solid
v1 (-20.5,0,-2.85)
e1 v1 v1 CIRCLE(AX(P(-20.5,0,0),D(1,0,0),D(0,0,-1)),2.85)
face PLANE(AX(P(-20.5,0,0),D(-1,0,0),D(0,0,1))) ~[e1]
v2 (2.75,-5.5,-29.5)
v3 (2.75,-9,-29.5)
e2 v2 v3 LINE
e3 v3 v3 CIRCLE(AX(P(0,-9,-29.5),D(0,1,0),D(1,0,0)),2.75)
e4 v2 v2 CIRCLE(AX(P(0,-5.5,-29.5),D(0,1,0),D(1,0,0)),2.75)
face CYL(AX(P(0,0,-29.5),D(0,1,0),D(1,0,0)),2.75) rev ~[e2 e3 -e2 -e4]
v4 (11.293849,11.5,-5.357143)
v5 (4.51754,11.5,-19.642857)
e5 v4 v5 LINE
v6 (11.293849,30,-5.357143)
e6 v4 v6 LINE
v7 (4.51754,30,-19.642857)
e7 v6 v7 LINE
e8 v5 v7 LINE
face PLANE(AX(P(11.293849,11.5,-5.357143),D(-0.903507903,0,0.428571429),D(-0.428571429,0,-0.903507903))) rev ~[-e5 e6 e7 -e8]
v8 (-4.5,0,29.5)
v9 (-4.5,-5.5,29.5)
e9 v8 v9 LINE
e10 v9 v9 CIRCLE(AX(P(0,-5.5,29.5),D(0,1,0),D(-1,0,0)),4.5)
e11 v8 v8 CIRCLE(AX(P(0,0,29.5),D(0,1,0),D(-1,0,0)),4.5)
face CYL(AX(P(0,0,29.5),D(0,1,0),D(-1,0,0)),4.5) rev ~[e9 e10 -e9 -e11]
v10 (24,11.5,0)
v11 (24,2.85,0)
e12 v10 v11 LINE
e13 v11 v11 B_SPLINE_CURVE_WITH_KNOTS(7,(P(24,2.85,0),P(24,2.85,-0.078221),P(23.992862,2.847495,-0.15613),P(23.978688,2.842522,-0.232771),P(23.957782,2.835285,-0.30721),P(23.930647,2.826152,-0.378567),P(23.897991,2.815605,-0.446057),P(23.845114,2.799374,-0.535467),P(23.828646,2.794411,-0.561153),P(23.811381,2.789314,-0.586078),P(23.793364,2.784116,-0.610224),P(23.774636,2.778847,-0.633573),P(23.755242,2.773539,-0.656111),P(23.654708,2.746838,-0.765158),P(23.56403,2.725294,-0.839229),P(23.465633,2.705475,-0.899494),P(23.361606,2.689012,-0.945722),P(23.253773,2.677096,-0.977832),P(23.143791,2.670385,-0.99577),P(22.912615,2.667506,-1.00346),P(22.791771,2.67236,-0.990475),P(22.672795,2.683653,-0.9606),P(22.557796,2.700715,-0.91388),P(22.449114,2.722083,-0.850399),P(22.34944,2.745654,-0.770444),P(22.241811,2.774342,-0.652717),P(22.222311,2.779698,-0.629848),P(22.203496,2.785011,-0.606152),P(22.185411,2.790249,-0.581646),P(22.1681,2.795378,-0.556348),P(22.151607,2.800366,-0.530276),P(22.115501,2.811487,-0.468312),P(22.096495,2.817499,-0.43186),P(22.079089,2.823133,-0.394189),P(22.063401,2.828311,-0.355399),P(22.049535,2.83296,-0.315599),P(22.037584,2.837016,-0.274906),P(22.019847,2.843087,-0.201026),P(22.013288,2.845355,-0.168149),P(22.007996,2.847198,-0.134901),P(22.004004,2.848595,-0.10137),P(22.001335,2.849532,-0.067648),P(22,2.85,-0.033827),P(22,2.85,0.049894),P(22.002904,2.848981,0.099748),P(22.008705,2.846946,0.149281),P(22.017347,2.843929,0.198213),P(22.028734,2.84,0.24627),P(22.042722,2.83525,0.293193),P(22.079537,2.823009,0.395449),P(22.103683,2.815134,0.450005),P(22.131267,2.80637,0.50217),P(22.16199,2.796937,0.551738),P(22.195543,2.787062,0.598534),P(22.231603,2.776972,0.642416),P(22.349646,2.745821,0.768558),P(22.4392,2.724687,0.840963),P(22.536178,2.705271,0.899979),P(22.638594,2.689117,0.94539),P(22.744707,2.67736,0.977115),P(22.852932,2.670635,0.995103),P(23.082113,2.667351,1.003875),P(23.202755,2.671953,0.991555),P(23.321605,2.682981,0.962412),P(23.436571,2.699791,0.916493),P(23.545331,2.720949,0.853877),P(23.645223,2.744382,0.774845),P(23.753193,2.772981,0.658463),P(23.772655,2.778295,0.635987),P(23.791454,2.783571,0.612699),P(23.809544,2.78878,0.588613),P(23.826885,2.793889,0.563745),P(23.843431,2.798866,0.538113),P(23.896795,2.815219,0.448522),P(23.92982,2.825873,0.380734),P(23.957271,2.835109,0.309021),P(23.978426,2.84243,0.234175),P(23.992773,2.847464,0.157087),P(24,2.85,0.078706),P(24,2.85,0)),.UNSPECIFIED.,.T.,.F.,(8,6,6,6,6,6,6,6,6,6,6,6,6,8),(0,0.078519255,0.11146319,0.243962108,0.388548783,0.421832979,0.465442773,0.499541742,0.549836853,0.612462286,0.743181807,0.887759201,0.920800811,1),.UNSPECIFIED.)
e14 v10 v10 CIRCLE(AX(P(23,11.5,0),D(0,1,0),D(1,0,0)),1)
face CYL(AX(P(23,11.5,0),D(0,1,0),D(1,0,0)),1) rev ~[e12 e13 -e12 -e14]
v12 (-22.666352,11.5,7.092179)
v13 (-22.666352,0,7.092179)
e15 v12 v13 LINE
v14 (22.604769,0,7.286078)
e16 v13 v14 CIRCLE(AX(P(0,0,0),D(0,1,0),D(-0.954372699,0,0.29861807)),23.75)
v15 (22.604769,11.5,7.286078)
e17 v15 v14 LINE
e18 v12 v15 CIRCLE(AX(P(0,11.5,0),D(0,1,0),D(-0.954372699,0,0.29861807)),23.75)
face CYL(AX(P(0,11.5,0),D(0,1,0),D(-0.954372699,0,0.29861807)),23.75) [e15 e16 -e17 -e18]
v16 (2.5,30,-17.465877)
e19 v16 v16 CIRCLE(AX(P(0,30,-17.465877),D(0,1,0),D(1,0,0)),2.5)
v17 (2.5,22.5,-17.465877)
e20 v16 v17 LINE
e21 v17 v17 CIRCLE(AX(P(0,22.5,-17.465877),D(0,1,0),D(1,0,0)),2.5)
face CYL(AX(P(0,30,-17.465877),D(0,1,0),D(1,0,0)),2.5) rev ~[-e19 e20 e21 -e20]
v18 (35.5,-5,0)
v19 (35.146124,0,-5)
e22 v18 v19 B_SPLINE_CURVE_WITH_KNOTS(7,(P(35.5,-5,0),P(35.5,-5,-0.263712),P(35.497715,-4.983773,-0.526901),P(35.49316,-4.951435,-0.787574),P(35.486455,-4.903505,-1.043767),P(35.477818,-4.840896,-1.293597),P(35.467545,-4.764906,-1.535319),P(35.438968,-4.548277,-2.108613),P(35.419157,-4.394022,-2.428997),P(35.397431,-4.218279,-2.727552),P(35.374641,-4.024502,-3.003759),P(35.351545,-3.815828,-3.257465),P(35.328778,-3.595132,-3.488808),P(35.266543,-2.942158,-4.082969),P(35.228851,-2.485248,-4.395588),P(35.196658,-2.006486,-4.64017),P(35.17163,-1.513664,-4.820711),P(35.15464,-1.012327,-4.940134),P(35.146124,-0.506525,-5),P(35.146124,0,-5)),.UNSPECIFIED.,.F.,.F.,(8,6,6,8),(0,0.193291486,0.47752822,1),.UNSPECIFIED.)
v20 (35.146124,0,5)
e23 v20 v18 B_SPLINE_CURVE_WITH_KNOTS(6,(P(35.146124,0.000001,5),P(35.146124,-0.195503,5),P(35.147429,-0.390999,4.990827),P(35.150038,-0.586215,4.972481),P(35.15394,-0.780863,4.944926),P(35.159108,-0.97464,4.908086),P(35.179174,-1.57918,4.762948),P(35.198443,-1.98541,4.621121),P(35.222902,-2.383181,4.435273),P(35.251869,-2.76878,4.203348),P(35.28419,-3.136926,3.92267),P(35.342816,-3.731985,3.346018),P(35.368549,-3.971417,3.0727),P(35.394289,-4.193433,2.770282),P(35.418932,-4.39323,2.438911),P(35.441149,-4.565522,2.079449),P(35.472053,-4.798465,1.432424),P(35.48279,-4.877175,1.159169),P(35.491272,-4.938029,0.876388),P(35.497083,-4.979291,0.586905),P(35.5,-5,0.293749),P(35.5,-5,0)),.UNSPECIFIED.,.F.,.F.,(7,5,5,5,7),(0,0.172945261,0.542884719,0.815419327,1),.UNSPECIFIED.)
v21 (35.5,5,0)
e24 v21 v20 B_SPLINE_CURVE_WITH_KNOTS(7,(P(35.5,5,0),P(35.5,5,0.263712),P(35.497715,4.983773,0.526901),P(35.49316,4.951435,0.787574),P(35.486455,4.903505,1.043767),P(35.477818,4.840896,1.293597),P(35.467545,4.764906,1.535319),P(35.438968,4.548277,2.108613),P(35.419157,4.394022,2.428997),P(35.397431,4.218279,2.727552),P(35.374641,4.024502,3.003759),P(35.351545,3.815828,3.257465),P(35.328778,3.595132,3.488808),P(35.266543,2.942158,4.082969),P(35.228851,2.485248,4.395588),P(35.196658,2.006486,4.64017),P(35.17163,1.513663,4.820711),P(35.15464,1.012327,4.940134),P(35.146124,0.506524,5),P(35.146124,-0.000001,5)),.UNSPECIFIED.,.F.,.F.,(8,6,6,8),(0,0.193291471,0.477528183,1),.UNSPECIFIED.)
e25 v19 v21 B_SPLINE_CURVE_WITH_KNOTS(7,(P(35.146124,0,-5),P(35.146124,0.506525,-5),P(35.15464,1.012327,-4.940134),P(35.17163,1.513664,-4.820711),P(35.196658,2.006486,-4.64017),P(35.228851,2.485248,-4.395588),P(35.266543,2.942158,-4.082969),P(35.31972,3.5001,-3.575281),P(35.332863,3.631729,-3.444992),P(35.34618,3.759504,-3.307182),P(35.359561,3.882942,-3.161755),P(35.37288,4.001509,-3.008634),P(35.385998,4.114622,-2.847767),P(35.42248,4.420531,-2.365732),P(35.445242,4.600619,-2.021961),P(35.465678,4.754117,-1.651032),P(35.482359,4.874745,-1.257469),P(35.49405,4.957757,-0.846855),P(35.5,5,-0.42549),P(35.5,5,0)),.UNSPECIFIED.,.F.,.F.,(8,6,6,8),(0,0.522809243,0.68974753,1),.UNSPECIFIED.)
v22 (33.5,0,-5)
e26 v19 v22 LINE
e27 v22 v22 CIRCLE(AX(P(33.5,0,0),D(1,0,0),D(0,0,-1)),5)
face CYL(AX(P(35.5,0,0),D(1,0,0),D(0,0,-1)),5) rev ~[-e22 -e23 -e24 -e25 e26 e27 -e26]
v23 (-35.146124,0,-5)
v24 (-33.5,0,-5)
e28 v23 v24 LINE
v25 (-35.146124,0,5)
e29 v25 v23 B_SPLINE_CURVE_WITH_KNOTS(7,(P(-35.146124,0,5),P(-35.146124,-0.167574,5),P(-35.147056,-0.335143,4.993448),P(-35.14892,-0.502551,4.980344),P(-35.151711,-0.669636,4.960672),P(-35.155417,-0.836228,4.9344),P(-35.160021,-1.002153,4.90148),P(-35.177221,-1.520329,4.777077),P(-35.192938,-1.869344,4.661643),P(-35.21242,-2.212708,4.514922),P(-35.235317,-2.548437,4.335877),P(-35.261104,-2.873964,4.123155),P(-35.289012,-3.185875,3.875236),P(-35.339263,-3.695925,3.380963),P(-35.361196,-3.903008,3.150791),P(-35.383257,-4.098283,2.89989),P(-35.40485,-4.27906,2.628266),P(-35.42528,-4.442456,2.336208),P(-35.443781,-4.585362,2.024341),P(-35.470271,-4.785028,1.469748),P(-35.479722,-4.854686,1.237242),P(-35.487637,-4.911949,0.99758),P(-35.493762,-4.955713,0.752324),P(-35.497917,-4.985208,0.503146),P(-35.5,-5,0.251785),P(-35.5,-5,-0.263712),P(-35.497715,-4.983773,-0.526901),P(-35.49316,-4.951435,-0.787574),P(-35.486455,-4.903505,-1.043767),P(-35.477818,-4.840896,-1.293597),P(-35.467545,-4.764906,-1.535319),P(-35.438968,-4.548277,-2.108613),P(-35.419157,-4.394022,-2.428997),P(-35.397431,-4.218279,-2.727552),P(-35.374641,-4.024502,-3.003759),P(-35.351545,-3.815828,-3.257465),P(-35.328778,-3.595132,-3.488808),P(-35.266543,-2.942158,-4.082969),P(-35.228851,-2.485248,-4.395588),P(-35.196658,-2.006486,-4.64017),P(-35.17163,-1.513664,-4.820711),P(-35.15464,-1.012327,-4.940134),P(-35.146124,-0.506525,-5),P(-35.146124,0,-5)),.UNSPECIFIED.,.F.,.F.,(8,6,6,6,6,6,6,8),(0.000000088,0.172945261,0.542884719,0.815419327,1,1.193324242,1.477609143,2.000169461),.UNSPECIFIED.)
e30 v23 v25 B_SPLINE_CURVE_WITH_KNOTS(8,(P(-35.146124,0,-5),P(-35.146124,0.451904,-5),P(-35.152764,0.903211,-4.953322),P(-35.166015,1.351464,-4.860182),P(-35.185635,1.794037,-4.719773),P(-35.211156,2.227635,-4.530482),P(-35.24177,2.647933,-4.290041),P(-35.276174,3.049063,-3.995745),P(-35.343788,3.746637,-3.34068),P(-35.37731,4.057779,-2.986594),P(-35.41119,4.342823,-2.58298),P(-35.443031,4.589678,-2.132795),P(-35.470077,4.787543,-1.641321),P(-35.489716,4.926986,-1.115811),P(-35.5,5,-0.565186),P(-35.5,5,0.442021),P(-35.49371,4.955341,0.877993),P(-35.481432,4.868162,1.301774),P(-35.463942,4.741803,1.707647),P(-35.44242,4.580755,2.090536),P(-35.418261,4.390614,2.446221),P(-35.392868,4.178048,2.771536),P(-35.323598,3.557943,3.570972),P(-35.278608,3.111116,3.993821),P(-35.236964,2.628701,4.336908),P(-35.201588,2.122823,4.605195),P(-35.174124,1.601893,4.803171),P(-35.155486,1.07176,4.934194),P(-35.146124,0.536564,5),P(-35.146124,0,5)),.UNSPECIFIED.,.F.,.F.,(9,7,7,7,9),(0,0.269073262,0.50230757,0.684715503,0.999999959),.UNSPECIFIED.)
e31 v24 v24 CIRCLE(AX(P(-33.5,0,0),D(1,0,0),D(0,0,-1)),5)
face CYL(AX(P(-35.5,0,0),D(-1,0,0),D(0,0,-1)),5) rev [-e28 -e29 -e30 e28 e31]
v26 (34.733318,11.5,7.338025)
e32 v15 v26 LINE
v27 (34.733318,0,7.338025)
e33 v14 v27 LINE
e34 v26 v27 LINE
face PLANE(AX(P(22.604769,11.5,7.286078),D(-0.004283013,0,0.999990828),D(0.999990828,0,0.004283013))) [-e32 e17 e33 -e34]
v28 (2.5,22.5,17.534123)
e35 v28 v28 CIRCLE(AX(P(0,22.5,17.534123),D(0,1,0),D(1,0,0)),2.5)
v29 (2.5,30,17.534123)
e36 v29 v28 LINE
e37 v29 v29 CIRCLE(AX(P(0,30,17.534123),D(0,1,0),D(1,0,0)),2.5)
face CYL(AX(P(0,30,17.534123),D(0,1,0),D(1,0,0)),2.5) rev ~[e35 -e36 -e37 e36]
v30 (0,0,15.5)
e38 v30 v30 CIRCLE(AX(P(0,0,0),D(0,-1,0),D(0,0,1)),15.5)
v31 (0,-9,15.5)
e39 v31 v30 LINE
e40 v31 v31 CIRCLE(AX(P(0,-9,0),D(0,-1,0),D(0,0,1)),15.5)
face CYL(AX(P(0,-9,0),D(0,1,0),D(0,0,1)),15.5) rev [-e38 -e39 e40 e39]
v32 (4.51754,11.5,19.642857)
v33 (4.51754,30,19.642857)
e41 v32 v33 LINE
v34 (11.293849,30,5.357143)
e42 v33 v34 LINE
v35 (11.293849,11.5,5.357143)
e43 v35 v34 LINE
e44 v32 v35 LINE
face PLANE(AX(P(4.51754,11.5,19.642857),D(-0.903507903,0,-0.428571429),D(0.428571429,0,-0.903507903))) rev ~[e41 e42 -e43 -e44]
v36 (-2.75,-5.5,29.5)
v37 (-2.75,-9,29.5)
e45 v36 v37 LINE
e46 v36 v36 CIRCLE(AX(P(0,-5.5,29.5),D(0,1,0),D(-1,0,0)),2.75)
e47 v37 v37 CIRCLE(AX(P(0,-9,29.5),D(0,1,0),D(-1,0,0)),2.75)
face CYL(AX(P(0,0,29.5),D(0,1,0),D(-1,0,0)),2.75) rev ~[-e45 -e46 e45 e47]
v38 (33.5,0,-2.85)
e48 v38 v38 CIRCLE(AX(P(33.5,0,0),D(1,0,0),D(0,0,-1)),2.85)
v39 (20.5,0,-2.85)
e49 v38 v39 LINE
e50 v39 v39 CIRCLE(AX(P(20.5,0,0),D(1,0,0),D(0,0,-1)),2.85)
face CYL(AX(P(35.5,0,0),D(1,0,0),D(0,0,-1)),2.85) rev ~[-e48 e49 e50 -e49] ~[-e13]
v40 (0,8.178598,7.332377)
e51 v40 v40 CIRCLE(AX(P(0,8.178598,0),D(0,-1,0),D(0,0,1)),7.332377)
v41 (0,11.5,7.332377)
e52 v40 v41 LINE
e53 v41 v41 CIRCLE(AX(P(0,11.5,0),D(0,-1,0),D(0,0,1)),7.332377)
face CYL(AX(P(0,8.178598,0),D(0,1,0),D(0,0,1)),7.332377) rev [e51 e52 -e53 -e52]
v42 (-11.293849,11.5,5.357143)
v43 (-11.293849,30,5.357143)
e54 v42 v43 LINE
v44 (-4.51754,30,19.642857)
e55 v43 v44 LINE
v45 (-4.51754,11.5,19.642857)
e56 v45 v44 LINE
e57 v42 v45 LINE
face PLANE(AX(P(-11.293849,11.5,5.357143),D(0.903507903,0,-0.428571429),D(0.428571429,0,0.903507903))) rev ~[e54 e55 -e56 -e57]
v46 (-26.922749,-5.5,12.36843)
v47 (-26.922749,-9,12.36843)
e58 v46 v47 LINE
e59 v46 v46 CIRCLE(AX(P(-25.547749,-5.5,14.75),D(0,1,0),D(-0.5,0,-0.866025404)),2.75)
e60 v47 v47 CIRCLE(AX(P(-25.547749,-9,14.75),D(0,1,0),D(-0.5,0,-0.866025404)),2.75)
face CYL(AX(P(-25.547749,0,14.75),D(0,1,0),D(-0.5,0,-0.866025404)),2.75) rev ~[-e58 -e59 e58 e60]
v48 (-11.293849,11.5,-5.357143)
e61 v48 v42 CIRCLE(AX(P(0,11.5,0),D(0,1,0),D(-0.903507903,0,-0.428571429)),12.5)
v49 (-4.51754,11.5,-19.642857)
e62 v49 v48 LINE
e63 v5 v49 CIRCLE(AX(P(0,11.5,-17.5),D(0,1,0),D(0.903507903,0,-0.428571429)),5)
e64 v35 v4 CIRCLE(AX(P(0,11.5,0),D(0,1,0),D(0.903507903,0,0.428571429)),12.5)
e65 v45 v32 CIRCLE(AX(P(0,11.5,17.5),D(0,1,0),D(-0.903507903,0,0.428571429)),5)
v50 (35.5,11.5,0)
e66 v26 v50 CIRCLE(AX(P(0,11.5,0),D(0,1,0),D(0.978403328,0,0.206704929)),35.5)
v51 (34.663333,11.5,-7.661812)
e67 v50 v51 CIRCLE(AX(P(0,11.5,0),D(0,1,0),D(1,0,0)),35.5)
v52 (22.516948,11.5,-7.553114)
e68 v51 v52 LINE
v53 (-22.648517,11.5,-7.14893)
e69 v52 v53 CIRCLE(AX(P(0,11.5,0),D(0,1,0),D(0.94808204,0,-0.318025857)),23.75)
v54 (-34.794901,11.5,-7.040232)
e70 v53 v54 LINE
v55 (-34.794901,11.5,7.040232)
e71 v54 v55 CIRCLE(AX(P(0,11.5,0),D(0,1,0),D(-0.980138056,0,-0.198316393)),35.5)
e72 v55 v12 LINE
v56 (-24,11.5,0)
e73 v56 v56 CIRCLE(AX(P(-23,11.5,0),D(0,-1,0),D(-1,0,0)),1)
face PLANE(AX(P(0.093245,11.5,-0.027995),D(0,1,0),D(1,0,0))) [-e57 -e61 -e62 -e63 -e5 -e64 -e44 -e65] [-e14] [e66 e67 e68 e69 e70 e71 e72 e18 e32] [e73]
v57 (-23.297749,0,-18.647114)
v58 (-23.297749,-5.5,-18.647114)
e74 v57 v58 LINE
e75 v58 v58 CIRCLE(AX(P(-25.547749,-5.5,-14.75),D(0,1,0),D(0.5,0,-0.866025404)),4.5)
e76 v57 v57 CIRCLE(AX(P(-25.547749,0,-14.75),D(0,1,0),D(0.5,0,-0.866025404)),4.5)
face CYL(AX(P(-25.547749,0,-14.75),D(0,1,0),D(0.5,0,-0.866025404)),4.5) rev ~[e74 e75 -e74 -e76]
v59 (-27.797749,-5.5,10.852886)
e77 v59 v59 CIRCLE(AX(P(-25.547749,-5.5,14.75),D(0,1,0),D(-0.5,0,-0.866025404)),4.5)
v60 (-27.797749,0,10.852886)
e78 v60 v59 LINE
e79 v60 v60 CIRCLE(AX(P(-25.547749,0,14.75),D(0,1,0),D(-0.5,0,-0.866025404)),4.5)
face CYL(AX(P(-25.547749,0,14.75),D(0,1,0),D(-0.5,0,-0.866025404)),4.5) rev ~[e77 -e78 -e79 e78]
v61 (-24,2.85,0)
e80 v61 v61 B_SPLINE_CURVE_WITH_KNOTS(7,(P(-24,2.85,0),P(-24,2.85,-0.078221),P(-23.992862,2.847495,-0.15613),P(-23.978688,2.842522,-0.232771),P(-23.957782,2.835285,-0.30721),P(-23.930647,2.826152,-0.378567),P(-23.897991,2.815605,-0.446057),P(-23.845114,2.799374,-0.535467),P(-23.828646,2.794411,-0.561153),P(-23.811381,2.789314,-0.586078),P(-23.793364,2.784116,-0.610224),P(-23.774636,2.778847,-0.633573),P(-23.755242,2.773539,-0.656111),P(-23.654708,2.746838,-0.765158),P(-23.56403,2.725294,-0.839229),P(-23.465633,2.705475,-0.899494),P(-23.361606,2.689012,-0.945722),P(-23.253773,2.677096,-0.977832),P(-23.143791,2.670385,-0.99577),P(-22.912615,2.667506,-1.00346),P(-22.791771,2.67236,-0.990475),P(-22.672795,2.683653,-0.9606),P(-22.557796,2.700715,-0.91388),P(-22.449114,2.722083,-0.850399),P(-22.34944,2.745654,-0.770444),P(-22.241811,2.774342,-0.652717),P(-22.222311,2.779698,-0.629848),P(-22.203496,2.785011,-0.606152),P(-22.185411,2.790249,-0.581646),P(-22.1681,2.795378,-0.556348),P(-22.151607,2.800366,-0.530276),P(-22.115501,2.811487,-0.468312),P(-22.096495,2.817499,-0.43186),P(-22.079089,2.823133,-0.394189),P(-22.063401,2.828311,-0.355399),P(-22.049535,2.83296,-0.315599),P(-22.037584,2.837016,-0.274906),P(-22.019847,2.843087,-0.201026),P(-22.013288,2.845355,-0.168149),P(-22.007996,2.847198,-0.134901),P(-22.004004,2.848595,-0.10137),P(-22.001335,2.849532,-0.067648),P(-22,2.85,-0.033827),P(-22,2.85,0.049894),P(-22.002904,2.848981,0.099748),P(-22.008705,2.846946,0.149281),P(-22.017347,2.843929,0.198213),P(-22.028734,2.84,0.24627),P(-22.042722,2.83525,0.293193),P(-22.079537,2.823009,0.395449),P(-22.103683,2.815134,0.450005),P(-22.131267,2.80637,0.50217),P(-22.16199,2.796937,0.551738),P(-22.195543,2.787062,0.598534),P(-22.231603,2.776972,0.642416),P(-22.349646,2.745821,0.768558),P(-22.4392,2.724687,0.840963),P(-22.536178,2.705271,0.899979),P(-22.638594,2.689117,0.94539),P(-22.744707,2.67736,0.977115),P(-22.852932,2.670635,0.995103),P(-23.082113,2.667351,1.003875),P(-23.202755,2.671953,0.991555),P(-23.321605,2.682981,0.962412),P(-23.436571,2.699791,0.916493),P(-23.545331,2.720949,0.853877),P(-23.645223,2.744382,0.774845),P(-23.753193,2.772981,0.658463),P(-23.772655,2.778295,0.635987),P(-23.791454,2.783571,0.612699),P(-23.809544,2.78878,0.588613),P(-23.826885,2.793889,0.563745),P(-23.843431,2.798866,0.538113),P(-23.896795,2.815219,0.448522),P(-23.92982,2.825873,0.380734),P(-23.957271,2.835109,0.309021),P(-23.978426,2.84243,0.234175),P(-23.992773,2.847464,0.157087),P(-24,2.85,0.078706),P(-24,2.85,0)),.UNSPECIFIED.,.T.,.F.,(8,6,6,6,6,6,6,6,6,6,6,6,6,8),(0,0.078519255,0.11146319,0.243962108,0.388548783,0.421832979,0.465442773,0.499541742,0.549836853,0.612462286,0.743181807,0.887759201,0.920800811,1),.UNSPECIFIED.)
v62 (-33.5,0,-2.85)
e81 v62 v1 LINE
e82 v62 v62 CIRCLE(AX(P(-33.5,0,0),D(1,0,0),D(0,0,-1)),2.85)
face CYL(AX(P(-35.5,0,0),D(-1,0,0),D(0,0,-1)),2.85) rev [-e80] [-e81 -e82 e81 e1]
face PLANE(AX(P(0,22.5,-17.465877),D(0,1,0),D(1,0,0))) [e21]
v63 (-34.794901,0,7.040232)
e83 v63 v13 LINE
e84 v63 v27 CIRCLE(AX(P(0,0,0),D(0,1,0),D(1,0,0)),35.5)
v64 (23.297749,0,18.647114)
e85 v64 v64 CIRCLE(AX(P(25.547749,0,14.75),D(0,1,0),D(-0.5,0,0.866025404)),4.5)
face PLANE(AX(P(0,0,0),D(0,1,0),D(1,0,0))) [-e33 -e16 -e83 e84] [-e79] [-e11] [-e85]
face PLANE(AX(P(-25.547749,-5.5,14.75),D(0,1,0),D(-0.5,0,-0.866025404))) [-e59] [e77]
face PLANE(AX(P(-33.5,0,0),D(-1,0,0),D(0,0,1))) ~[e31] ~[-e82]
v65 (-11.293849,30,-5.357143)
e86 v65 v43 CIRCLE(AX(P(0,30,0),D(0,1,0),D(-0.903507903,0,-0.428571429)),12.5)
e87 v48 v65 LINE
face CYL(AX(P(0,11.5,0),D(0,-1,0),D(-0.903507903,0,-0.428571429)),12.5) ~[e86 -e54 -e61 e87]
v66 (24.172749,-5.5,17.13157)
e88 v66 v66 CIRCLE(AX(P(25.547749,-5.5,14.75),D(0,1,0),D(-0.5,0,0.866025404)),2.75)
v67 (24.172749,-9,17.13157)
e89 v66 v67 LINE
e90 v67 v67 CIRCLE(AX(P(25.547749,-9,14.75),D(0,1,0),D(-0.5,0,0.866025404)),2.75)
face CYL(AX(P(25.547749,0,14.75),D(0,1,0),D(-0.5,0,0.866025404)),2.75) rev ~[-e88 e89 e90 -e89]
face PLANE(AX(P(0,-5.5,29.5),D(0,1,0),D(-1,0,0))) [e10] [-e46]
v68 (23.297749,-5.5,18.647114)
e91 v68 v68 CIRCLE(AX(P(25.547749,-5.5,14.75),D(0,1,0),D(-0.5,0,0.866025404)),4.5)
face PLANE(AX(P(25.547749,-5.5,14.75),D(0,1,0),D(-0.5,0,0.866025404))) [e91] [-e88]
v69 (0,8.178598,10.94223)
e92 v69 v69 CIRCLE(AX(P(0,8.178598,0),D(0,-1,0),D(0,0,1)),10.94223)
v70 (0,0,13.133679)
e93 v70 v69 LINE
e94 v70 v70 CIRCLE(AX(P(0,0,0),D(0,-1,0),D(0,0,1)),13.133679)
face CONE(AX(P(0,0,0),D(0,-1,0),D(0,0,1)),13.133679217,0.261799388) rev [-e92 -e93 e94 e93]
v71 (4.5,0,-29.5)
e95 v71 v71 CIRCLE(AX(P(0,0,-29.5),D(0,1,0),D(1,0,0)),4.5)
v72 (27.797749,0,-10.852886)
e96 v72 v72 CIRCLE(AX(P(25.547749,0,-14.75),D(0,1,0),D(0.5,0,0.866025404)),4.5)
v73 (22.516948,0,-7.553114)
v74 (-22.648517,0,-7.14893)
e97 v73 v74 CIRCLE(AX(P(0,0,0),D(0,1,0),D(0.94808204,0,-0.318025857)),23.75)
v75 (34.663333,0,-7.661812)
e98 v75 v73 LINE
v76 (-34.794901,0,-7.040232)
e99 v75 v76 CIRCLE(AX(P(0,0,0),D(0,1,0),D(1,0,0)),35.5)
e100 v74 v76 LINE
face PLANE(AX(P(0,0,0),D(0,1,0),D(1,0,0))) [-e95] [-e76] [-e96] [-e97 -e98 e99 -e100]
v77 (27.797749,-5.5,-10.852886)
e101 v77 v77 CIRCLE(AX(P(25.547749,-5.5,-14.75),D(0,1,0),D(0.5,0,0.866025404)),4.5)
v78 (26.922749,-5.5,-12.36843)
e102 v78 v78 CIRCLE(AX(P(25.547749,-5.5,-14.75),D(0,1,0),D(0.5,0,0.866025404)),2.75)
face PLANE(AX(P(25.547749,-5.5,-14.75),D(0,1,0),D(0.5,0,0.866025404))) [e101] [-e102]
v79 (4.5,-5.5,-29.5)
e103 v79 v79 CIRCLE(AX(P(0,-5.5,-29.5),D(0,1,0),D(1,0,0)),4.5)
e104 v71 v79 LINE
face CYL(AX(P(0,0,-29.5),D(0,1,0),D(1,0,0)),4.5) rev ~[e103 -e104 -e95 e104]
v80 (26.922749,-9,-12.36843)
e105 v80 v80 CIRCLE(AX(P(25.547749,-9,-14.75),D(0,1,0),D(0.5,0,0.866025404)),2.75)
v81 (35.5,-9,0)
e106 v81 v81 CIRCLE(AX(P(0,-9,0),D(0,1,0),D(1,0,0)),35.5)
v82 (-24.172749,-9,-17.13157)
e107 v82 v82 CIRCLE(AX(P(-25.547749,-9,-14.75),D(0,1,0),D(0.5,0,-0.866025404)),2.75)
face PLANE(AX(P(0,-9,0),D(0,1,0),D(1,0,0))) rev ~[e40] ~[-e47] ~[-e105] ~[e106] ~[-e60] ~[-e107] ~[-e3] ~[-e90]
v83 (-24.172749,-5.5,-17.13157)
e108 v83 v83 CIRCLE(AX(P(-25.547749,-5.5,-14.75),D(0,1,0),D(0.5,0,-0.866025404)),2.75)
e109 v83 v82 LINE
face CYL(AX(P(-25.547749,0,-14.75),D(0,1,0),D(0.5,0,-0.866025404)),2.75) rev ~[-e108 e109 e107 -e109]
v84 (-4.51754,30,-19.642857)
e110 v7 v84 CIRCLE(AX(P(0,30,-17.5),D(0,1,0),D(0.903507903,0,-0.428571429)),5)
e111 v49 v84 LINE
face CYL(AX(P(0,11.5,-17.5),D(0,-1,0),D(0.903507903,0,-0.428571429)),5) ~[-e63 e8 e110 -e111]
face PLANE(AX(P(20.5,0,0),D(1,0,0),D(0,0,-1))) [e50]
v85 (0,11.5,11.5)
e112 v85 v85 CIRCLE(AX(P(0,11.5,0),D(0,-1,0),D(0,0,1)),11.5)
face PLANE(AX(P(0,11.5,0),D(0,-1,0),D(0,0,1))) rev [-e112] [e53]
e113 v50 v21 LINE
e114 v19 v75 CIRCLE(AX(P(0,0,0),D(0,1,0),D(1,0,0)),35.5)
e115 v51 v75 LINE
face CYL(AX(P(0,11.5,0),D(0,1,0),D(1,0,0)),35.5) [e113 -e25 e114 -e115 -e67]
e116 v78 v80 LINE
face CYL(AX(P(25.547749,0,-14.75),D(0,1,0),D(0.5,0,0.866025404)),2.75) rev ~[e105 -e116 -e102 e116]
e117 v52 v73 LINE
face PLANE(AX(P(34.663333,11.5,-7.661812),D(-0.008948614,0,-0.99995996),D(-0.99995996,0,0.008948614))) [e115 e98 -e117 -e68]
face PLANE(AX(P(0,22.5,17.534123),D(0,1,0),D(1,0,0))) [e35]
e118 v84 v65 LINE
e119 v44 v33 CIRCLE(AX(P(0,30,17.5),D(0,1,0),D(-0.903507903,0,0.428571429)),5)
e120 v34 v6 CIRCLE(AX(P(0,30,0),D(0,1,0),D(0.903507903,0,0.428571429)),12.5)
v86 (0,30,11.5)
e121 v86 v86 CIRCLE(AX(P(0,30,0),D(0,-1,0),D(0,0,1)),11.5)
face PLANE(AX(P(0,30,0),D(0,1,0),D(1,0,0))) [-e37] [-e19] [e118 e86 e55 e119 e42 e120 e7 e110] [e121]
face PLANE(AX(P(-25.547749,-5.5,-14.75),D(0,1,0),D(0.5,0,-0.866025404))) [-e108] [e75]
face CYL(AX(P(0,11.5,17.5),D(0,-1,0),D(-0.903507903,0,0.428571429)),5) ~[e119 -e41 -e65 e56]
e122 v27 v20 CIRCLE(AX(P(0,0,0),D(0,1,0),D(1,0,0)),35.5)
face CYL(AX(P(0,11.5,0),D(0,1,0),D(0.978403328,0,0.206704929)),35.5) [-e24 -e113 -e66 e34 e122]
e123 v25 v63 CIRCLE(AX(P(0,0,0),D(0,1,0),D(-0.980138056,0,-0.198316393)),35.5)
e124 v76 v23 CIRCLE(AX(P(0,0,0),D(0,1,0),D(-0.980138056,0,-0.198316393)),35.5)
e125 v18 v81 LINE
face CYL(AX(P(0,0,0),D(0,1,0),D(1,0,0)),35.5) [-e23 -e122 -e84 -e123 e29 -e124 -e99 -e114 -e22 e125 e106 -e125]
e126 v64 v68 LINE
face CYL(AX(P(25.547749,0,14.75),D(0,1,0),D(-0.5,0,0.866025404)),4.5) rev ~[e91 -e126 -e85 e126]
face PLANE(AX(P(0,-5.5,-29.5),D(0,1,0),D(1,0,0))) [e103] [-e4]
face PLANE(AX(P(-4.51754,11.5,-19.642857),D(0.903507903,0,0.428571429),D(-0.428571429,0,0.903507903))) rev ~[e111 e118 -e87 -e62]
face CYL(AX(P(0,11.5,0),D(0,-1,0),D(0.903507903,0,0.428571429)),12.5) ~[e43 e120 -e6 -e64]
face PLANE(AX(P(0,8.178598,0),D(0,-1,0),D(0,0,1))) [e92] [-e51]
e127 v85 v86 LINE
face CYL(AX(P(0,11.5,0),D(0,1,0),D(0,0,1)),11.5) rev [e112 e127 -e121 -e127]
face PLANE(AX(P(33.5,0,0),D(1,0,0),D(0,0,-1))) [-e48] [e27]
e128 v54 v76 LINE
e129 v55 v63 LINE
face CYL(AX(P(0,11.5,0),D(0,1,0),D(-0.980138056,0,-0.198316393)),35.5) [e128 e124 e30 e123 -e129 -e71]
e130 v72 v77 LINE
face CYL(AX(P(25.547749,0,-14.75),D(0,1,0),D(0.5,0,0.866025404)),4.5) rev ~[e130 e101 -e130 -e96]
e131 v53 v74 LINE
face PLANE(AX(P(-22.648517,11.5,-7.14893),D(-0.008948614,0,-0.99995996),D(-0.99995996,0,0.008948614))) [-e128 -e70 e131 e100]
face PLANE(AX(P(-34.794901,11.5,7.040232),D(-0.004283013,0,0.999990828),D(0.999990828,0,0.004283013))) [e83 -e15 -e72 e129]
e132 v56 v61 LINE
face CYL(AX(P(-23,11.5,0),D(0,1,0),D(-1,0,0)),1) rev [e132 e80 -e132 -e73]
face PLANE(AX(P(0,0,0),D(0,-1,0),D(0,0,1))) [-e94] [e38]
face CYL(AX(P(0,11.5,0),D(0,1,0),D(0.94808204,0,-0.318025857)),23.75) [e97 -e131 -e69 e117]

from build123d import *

# Parameters (mm, degrees)
SKETCH1_R           = 35.5
BOSS_EXTRUDE1_DEPTH = 9
BOSS_EXTRUDE2_START = 11.5
BOSS_EXTRUDE2_DEPTH = 11.5
BOSS_EXTRUDE3_DEPTH = 18.5
SKETCH3_R           = 2.5
CUT_EXTRUDE1_DEPTH  = 7.5
SKETCH4_R           = 2.75
CUT_EXTRUDE2_DEPTH  = 59.485040822
SKETCH4_3_R         = 4.5
SKETCH4_3_R_2       = 2.75
CUT_EXTRUDE3_DEPTH  = 5.5
CIRPATTERN1_COUNT   = 6
SKETCH5_R           = 5
SKETCH5_R_2         = 2.85
CUT_EXTRUDE4_DEPTH  = 2
SKETCH5_2_R         = 2.85
CUT_EXTRUDE5_DEPTH  = 15
SKETCH6_R           = 1
CUT_EXTRUDE6_DEPTH  = 12


with BuildPart() as part:
    # Sketch1 → Boss-Extrude1 (new body)
    with BuildSketch(Plane(origin=(0, 0, 0), x_dir=(1, 0, 0), z_dir=(0, 1, 0))):
        Circle(SKETCH1_R)
    extrude(amount=-BOSS_EXTRUDE1_DEPTH)

    # Sketch1<3> → Boss-Extrude2 (add)
    with BuildSketch(Plane(origin=(0, 0, 0), x_dir=(1, 0, 0), z_dir=(0, 1, 0)).offset(BOSS_EXTRUDE2_START)):
        with BuildLine():
            Line((34.663332794, 7.661811773), (22.516948444, 7.553114112))
            ThreePointArc((22.516948444, 7.553114112), (-0.21252959, 23.749049058), (-22.64851663, 7.148929601))
            Line((-22.64851663, 7.148929601), (-34.79490098, 7.04023194))
            ThreePointArc((-34.79490098, 7.04023194), (-35.5, 0), (-34.79490098, -7.04023194))
            Line((-34.79490098, -7.04023194), (-22.6663516, -7.092179155))
            ThreePointArc((-22.6663516, -7.092179155), (-0.101721567, -23.749782162), (22.604768769, -7.286077746))
            Line((22.604768769, -7.286077746), (34.733318149, -7.338024961))
            ThreePointArc((34.733318149, -7.338024961), (35.307809294, -3.688983986), (35.5, 0))
            ThreePointArc((35.5, 0), (35.290213333, 3.85367914), (34.663332794, 7.661811773))
        make_face()
    extrude(amount=-BOSS_EXTRUDE2_DEPTH)

    # Sketch2 → Boss-Extrude3 (add)
    with BuildSketch(Plane(origin=(0, 11.5, 0), x_dir=(1, 0, 0), z_dir=(0, 1, 0))):
        with BuildLine():
            Line((-4.517539515, 19.642857143), (-11.293848786, 5.357142857))
            ThreePointArc((-11.293848786, 5.357142857), (-12.5, 0), (-11.293848786, -5.357142857))
            Line((-11.293848786, -5.357142857), (-4.517539515, -19.642857143))
            ThreePointArc((-4.517539515, -19.642857143), (0, -22.5), (4.517539515, -19.642857143))
            Line((4.517539515, -19.642857143), (11.293848786, -5.357142857))
            ThreePointArc((11.293848786, -5.357142857), (12.5, 0), (11.293848786, 5.357142857))
            Line((11.293848786, 5.357142857), (4.517539515, 19.642857143))
            ThreePointArc((4.517539515, 19.642857143), (0, 22.5), (-4.517539515, 19.642857143))
        make_face()
    extrude(amount=BOSS_EXTRUDE3_DEPTH)

    # Sketch3 → Cut-Extrude1 (cut)
    with BuildSketch(Plane(origin=(0, 30, 0), x_dir=(1, 0, 0), z_dir=(0, 1, 0))):
        with Locations((0, 17.465877309)):
            Circle(SKETCH3_R)
        with Locations((0, -17.534122691)):
            Circle(SKETCH3_R)
    extrude(amount=-CUT_EXTRUDE1_DEPTH, mode=Mode.SUBTRACT)

    # Sketch4 → Cut-Extrude2 (cut, through all)
    with BuildSketch(Plane(origin=(0, 0, 0), x_dir=(1, 0, 0), z_dir=(0, 1, 0))):
        with Locations((0, 29.5)):
            Circle(SKETCH4_R)
    cut_extrude2 = extrude(amount=-CUT_EXTRUDE2_DEPTH, mode=Mode.SUBTRACT)

    # Sketch4<3> → Cut-Extrude3 (cut)
    with BuildSketch(Plane(origin=(0, 0, 0), x_dir=(1, 0, 0), z_dir=(0, 1, 0))):
        with Locations((0, 29.5)):
            Circle(SKETCH4_3_R)
        with Locations((0, 29.5)):
            Circle(SKETCH4_3_R_2, mode=Mode.SUBTRACT)
    cut_extrude3 = extrude(amount=-CUT_EXTRUDE3_DEPTH, mode=Mode.SUBTRACT)

    # CirPattern1: Cut-Extrude2, Cut-Extrude3 ×6 about axis
    cirpattern1_axis = Axis((0, 11.5, 0), (0, 1, 0))
    add([cut_extrude2.rotate(cirpattern1_axis, i * 360 / CIRPATTERN1_COUNT) for i in range(1, CIRPATTERN1_COUNT)], mode=Mode.SUBTRACT)
    add([cut_extrude3.rotate(cirpattern1_axis, i * 360 / CIRPATTERN1_COUNT) for i in range(1, CIRPATTERN1_COUNT)], mode=Mode.SUBTRACT)

    # Sketch5 → Cut-Extrude4 (cut)
    with BuildSketch(Plane(origin=(35.5, 0, 0), x_dir=(0, 0, -1), z_dir=(1, 0, 0))):
        Circle(SKETCH5_R)
        Circle(SKETCH5_R_2, mode=Mode.SUBTRACT)
    cut_extrude4 = extrude(amount=-CUT_EXTRUDE4_DEPTH, mode=Mode.SUBTRACT)

    # Sketch5<2> → Cut-Extrude5 (cut)
    with BuildSketch(Plane(origin=(35.5, 0, 0), x_dir=(0, 0, -1), z_dir=(1, 0, 0))):
        Circle(SKETCH5_2_R)
    cut_extrude5 = extrude(amount=-CUT_EXTRUDE5_DEPTH, mode=Mode.SUBTRACT)

    # Mirror1: Cut-Extrude4, Cut-Extrude5 across plane
    add(cut_extrude4.mirror(Plane(origin=(0, 0, 0), x_dir=(0, 0, 1), z_dir=(1, 0, 0))), mode=Mode.SUBTRACT)
    add(cut_extrude5.mirror(Plane(origin=(0, 0, 0), x_dir=(0, 0, 1), z_dir=(1, 0, 0))), mode=Mode.SUBTRACT)

    # Sketch6 → Cut-Extrude6 (cut)
    with BuildSketch(Plane(origin=(0, 11.5, 0), x_dir=(1, 0, 0), z_dir=(0, 1, 0))):
        with Locations((23, 0)):
            Circle(SKETCH6_R)
    cut_extrude6 = extrude(amount=-CUT_EXTRUDE6_DEPTH, mode=Mode.SUBTRACT)

    # Mirror2: Cut-Extrude6 across plane
    add(cut_extrude6.mirror(Plane(origin=(0, 0, 0), x_dir=(0, 0, 1), z_dir=(1, 0, 0))), mode=Mode.SUBTRACT)

    # Sketch7 → Cut-Revolve1 (revolve, cut)
    with BuildSketch(Plane(origin=(0, 0, 0), x_dir=(0, 0, -1), z_dir=(1, 0, 0))):
        Polygon((0, 30), (0, -9), (-15.5, -9), (-15.5, 0), (-13.133679217, 0), (-10.942230479, 8.17859803), (-7.332376652, 8.17859803), (-7.332376652, 11.5), (-11.5, 11.5), (-11.5, 30), align=None)
    revolve(axis=Axis((0, 30, 0), (0, -1, 0)), mode=Mode.SUBTRACT)


solid = part.part
